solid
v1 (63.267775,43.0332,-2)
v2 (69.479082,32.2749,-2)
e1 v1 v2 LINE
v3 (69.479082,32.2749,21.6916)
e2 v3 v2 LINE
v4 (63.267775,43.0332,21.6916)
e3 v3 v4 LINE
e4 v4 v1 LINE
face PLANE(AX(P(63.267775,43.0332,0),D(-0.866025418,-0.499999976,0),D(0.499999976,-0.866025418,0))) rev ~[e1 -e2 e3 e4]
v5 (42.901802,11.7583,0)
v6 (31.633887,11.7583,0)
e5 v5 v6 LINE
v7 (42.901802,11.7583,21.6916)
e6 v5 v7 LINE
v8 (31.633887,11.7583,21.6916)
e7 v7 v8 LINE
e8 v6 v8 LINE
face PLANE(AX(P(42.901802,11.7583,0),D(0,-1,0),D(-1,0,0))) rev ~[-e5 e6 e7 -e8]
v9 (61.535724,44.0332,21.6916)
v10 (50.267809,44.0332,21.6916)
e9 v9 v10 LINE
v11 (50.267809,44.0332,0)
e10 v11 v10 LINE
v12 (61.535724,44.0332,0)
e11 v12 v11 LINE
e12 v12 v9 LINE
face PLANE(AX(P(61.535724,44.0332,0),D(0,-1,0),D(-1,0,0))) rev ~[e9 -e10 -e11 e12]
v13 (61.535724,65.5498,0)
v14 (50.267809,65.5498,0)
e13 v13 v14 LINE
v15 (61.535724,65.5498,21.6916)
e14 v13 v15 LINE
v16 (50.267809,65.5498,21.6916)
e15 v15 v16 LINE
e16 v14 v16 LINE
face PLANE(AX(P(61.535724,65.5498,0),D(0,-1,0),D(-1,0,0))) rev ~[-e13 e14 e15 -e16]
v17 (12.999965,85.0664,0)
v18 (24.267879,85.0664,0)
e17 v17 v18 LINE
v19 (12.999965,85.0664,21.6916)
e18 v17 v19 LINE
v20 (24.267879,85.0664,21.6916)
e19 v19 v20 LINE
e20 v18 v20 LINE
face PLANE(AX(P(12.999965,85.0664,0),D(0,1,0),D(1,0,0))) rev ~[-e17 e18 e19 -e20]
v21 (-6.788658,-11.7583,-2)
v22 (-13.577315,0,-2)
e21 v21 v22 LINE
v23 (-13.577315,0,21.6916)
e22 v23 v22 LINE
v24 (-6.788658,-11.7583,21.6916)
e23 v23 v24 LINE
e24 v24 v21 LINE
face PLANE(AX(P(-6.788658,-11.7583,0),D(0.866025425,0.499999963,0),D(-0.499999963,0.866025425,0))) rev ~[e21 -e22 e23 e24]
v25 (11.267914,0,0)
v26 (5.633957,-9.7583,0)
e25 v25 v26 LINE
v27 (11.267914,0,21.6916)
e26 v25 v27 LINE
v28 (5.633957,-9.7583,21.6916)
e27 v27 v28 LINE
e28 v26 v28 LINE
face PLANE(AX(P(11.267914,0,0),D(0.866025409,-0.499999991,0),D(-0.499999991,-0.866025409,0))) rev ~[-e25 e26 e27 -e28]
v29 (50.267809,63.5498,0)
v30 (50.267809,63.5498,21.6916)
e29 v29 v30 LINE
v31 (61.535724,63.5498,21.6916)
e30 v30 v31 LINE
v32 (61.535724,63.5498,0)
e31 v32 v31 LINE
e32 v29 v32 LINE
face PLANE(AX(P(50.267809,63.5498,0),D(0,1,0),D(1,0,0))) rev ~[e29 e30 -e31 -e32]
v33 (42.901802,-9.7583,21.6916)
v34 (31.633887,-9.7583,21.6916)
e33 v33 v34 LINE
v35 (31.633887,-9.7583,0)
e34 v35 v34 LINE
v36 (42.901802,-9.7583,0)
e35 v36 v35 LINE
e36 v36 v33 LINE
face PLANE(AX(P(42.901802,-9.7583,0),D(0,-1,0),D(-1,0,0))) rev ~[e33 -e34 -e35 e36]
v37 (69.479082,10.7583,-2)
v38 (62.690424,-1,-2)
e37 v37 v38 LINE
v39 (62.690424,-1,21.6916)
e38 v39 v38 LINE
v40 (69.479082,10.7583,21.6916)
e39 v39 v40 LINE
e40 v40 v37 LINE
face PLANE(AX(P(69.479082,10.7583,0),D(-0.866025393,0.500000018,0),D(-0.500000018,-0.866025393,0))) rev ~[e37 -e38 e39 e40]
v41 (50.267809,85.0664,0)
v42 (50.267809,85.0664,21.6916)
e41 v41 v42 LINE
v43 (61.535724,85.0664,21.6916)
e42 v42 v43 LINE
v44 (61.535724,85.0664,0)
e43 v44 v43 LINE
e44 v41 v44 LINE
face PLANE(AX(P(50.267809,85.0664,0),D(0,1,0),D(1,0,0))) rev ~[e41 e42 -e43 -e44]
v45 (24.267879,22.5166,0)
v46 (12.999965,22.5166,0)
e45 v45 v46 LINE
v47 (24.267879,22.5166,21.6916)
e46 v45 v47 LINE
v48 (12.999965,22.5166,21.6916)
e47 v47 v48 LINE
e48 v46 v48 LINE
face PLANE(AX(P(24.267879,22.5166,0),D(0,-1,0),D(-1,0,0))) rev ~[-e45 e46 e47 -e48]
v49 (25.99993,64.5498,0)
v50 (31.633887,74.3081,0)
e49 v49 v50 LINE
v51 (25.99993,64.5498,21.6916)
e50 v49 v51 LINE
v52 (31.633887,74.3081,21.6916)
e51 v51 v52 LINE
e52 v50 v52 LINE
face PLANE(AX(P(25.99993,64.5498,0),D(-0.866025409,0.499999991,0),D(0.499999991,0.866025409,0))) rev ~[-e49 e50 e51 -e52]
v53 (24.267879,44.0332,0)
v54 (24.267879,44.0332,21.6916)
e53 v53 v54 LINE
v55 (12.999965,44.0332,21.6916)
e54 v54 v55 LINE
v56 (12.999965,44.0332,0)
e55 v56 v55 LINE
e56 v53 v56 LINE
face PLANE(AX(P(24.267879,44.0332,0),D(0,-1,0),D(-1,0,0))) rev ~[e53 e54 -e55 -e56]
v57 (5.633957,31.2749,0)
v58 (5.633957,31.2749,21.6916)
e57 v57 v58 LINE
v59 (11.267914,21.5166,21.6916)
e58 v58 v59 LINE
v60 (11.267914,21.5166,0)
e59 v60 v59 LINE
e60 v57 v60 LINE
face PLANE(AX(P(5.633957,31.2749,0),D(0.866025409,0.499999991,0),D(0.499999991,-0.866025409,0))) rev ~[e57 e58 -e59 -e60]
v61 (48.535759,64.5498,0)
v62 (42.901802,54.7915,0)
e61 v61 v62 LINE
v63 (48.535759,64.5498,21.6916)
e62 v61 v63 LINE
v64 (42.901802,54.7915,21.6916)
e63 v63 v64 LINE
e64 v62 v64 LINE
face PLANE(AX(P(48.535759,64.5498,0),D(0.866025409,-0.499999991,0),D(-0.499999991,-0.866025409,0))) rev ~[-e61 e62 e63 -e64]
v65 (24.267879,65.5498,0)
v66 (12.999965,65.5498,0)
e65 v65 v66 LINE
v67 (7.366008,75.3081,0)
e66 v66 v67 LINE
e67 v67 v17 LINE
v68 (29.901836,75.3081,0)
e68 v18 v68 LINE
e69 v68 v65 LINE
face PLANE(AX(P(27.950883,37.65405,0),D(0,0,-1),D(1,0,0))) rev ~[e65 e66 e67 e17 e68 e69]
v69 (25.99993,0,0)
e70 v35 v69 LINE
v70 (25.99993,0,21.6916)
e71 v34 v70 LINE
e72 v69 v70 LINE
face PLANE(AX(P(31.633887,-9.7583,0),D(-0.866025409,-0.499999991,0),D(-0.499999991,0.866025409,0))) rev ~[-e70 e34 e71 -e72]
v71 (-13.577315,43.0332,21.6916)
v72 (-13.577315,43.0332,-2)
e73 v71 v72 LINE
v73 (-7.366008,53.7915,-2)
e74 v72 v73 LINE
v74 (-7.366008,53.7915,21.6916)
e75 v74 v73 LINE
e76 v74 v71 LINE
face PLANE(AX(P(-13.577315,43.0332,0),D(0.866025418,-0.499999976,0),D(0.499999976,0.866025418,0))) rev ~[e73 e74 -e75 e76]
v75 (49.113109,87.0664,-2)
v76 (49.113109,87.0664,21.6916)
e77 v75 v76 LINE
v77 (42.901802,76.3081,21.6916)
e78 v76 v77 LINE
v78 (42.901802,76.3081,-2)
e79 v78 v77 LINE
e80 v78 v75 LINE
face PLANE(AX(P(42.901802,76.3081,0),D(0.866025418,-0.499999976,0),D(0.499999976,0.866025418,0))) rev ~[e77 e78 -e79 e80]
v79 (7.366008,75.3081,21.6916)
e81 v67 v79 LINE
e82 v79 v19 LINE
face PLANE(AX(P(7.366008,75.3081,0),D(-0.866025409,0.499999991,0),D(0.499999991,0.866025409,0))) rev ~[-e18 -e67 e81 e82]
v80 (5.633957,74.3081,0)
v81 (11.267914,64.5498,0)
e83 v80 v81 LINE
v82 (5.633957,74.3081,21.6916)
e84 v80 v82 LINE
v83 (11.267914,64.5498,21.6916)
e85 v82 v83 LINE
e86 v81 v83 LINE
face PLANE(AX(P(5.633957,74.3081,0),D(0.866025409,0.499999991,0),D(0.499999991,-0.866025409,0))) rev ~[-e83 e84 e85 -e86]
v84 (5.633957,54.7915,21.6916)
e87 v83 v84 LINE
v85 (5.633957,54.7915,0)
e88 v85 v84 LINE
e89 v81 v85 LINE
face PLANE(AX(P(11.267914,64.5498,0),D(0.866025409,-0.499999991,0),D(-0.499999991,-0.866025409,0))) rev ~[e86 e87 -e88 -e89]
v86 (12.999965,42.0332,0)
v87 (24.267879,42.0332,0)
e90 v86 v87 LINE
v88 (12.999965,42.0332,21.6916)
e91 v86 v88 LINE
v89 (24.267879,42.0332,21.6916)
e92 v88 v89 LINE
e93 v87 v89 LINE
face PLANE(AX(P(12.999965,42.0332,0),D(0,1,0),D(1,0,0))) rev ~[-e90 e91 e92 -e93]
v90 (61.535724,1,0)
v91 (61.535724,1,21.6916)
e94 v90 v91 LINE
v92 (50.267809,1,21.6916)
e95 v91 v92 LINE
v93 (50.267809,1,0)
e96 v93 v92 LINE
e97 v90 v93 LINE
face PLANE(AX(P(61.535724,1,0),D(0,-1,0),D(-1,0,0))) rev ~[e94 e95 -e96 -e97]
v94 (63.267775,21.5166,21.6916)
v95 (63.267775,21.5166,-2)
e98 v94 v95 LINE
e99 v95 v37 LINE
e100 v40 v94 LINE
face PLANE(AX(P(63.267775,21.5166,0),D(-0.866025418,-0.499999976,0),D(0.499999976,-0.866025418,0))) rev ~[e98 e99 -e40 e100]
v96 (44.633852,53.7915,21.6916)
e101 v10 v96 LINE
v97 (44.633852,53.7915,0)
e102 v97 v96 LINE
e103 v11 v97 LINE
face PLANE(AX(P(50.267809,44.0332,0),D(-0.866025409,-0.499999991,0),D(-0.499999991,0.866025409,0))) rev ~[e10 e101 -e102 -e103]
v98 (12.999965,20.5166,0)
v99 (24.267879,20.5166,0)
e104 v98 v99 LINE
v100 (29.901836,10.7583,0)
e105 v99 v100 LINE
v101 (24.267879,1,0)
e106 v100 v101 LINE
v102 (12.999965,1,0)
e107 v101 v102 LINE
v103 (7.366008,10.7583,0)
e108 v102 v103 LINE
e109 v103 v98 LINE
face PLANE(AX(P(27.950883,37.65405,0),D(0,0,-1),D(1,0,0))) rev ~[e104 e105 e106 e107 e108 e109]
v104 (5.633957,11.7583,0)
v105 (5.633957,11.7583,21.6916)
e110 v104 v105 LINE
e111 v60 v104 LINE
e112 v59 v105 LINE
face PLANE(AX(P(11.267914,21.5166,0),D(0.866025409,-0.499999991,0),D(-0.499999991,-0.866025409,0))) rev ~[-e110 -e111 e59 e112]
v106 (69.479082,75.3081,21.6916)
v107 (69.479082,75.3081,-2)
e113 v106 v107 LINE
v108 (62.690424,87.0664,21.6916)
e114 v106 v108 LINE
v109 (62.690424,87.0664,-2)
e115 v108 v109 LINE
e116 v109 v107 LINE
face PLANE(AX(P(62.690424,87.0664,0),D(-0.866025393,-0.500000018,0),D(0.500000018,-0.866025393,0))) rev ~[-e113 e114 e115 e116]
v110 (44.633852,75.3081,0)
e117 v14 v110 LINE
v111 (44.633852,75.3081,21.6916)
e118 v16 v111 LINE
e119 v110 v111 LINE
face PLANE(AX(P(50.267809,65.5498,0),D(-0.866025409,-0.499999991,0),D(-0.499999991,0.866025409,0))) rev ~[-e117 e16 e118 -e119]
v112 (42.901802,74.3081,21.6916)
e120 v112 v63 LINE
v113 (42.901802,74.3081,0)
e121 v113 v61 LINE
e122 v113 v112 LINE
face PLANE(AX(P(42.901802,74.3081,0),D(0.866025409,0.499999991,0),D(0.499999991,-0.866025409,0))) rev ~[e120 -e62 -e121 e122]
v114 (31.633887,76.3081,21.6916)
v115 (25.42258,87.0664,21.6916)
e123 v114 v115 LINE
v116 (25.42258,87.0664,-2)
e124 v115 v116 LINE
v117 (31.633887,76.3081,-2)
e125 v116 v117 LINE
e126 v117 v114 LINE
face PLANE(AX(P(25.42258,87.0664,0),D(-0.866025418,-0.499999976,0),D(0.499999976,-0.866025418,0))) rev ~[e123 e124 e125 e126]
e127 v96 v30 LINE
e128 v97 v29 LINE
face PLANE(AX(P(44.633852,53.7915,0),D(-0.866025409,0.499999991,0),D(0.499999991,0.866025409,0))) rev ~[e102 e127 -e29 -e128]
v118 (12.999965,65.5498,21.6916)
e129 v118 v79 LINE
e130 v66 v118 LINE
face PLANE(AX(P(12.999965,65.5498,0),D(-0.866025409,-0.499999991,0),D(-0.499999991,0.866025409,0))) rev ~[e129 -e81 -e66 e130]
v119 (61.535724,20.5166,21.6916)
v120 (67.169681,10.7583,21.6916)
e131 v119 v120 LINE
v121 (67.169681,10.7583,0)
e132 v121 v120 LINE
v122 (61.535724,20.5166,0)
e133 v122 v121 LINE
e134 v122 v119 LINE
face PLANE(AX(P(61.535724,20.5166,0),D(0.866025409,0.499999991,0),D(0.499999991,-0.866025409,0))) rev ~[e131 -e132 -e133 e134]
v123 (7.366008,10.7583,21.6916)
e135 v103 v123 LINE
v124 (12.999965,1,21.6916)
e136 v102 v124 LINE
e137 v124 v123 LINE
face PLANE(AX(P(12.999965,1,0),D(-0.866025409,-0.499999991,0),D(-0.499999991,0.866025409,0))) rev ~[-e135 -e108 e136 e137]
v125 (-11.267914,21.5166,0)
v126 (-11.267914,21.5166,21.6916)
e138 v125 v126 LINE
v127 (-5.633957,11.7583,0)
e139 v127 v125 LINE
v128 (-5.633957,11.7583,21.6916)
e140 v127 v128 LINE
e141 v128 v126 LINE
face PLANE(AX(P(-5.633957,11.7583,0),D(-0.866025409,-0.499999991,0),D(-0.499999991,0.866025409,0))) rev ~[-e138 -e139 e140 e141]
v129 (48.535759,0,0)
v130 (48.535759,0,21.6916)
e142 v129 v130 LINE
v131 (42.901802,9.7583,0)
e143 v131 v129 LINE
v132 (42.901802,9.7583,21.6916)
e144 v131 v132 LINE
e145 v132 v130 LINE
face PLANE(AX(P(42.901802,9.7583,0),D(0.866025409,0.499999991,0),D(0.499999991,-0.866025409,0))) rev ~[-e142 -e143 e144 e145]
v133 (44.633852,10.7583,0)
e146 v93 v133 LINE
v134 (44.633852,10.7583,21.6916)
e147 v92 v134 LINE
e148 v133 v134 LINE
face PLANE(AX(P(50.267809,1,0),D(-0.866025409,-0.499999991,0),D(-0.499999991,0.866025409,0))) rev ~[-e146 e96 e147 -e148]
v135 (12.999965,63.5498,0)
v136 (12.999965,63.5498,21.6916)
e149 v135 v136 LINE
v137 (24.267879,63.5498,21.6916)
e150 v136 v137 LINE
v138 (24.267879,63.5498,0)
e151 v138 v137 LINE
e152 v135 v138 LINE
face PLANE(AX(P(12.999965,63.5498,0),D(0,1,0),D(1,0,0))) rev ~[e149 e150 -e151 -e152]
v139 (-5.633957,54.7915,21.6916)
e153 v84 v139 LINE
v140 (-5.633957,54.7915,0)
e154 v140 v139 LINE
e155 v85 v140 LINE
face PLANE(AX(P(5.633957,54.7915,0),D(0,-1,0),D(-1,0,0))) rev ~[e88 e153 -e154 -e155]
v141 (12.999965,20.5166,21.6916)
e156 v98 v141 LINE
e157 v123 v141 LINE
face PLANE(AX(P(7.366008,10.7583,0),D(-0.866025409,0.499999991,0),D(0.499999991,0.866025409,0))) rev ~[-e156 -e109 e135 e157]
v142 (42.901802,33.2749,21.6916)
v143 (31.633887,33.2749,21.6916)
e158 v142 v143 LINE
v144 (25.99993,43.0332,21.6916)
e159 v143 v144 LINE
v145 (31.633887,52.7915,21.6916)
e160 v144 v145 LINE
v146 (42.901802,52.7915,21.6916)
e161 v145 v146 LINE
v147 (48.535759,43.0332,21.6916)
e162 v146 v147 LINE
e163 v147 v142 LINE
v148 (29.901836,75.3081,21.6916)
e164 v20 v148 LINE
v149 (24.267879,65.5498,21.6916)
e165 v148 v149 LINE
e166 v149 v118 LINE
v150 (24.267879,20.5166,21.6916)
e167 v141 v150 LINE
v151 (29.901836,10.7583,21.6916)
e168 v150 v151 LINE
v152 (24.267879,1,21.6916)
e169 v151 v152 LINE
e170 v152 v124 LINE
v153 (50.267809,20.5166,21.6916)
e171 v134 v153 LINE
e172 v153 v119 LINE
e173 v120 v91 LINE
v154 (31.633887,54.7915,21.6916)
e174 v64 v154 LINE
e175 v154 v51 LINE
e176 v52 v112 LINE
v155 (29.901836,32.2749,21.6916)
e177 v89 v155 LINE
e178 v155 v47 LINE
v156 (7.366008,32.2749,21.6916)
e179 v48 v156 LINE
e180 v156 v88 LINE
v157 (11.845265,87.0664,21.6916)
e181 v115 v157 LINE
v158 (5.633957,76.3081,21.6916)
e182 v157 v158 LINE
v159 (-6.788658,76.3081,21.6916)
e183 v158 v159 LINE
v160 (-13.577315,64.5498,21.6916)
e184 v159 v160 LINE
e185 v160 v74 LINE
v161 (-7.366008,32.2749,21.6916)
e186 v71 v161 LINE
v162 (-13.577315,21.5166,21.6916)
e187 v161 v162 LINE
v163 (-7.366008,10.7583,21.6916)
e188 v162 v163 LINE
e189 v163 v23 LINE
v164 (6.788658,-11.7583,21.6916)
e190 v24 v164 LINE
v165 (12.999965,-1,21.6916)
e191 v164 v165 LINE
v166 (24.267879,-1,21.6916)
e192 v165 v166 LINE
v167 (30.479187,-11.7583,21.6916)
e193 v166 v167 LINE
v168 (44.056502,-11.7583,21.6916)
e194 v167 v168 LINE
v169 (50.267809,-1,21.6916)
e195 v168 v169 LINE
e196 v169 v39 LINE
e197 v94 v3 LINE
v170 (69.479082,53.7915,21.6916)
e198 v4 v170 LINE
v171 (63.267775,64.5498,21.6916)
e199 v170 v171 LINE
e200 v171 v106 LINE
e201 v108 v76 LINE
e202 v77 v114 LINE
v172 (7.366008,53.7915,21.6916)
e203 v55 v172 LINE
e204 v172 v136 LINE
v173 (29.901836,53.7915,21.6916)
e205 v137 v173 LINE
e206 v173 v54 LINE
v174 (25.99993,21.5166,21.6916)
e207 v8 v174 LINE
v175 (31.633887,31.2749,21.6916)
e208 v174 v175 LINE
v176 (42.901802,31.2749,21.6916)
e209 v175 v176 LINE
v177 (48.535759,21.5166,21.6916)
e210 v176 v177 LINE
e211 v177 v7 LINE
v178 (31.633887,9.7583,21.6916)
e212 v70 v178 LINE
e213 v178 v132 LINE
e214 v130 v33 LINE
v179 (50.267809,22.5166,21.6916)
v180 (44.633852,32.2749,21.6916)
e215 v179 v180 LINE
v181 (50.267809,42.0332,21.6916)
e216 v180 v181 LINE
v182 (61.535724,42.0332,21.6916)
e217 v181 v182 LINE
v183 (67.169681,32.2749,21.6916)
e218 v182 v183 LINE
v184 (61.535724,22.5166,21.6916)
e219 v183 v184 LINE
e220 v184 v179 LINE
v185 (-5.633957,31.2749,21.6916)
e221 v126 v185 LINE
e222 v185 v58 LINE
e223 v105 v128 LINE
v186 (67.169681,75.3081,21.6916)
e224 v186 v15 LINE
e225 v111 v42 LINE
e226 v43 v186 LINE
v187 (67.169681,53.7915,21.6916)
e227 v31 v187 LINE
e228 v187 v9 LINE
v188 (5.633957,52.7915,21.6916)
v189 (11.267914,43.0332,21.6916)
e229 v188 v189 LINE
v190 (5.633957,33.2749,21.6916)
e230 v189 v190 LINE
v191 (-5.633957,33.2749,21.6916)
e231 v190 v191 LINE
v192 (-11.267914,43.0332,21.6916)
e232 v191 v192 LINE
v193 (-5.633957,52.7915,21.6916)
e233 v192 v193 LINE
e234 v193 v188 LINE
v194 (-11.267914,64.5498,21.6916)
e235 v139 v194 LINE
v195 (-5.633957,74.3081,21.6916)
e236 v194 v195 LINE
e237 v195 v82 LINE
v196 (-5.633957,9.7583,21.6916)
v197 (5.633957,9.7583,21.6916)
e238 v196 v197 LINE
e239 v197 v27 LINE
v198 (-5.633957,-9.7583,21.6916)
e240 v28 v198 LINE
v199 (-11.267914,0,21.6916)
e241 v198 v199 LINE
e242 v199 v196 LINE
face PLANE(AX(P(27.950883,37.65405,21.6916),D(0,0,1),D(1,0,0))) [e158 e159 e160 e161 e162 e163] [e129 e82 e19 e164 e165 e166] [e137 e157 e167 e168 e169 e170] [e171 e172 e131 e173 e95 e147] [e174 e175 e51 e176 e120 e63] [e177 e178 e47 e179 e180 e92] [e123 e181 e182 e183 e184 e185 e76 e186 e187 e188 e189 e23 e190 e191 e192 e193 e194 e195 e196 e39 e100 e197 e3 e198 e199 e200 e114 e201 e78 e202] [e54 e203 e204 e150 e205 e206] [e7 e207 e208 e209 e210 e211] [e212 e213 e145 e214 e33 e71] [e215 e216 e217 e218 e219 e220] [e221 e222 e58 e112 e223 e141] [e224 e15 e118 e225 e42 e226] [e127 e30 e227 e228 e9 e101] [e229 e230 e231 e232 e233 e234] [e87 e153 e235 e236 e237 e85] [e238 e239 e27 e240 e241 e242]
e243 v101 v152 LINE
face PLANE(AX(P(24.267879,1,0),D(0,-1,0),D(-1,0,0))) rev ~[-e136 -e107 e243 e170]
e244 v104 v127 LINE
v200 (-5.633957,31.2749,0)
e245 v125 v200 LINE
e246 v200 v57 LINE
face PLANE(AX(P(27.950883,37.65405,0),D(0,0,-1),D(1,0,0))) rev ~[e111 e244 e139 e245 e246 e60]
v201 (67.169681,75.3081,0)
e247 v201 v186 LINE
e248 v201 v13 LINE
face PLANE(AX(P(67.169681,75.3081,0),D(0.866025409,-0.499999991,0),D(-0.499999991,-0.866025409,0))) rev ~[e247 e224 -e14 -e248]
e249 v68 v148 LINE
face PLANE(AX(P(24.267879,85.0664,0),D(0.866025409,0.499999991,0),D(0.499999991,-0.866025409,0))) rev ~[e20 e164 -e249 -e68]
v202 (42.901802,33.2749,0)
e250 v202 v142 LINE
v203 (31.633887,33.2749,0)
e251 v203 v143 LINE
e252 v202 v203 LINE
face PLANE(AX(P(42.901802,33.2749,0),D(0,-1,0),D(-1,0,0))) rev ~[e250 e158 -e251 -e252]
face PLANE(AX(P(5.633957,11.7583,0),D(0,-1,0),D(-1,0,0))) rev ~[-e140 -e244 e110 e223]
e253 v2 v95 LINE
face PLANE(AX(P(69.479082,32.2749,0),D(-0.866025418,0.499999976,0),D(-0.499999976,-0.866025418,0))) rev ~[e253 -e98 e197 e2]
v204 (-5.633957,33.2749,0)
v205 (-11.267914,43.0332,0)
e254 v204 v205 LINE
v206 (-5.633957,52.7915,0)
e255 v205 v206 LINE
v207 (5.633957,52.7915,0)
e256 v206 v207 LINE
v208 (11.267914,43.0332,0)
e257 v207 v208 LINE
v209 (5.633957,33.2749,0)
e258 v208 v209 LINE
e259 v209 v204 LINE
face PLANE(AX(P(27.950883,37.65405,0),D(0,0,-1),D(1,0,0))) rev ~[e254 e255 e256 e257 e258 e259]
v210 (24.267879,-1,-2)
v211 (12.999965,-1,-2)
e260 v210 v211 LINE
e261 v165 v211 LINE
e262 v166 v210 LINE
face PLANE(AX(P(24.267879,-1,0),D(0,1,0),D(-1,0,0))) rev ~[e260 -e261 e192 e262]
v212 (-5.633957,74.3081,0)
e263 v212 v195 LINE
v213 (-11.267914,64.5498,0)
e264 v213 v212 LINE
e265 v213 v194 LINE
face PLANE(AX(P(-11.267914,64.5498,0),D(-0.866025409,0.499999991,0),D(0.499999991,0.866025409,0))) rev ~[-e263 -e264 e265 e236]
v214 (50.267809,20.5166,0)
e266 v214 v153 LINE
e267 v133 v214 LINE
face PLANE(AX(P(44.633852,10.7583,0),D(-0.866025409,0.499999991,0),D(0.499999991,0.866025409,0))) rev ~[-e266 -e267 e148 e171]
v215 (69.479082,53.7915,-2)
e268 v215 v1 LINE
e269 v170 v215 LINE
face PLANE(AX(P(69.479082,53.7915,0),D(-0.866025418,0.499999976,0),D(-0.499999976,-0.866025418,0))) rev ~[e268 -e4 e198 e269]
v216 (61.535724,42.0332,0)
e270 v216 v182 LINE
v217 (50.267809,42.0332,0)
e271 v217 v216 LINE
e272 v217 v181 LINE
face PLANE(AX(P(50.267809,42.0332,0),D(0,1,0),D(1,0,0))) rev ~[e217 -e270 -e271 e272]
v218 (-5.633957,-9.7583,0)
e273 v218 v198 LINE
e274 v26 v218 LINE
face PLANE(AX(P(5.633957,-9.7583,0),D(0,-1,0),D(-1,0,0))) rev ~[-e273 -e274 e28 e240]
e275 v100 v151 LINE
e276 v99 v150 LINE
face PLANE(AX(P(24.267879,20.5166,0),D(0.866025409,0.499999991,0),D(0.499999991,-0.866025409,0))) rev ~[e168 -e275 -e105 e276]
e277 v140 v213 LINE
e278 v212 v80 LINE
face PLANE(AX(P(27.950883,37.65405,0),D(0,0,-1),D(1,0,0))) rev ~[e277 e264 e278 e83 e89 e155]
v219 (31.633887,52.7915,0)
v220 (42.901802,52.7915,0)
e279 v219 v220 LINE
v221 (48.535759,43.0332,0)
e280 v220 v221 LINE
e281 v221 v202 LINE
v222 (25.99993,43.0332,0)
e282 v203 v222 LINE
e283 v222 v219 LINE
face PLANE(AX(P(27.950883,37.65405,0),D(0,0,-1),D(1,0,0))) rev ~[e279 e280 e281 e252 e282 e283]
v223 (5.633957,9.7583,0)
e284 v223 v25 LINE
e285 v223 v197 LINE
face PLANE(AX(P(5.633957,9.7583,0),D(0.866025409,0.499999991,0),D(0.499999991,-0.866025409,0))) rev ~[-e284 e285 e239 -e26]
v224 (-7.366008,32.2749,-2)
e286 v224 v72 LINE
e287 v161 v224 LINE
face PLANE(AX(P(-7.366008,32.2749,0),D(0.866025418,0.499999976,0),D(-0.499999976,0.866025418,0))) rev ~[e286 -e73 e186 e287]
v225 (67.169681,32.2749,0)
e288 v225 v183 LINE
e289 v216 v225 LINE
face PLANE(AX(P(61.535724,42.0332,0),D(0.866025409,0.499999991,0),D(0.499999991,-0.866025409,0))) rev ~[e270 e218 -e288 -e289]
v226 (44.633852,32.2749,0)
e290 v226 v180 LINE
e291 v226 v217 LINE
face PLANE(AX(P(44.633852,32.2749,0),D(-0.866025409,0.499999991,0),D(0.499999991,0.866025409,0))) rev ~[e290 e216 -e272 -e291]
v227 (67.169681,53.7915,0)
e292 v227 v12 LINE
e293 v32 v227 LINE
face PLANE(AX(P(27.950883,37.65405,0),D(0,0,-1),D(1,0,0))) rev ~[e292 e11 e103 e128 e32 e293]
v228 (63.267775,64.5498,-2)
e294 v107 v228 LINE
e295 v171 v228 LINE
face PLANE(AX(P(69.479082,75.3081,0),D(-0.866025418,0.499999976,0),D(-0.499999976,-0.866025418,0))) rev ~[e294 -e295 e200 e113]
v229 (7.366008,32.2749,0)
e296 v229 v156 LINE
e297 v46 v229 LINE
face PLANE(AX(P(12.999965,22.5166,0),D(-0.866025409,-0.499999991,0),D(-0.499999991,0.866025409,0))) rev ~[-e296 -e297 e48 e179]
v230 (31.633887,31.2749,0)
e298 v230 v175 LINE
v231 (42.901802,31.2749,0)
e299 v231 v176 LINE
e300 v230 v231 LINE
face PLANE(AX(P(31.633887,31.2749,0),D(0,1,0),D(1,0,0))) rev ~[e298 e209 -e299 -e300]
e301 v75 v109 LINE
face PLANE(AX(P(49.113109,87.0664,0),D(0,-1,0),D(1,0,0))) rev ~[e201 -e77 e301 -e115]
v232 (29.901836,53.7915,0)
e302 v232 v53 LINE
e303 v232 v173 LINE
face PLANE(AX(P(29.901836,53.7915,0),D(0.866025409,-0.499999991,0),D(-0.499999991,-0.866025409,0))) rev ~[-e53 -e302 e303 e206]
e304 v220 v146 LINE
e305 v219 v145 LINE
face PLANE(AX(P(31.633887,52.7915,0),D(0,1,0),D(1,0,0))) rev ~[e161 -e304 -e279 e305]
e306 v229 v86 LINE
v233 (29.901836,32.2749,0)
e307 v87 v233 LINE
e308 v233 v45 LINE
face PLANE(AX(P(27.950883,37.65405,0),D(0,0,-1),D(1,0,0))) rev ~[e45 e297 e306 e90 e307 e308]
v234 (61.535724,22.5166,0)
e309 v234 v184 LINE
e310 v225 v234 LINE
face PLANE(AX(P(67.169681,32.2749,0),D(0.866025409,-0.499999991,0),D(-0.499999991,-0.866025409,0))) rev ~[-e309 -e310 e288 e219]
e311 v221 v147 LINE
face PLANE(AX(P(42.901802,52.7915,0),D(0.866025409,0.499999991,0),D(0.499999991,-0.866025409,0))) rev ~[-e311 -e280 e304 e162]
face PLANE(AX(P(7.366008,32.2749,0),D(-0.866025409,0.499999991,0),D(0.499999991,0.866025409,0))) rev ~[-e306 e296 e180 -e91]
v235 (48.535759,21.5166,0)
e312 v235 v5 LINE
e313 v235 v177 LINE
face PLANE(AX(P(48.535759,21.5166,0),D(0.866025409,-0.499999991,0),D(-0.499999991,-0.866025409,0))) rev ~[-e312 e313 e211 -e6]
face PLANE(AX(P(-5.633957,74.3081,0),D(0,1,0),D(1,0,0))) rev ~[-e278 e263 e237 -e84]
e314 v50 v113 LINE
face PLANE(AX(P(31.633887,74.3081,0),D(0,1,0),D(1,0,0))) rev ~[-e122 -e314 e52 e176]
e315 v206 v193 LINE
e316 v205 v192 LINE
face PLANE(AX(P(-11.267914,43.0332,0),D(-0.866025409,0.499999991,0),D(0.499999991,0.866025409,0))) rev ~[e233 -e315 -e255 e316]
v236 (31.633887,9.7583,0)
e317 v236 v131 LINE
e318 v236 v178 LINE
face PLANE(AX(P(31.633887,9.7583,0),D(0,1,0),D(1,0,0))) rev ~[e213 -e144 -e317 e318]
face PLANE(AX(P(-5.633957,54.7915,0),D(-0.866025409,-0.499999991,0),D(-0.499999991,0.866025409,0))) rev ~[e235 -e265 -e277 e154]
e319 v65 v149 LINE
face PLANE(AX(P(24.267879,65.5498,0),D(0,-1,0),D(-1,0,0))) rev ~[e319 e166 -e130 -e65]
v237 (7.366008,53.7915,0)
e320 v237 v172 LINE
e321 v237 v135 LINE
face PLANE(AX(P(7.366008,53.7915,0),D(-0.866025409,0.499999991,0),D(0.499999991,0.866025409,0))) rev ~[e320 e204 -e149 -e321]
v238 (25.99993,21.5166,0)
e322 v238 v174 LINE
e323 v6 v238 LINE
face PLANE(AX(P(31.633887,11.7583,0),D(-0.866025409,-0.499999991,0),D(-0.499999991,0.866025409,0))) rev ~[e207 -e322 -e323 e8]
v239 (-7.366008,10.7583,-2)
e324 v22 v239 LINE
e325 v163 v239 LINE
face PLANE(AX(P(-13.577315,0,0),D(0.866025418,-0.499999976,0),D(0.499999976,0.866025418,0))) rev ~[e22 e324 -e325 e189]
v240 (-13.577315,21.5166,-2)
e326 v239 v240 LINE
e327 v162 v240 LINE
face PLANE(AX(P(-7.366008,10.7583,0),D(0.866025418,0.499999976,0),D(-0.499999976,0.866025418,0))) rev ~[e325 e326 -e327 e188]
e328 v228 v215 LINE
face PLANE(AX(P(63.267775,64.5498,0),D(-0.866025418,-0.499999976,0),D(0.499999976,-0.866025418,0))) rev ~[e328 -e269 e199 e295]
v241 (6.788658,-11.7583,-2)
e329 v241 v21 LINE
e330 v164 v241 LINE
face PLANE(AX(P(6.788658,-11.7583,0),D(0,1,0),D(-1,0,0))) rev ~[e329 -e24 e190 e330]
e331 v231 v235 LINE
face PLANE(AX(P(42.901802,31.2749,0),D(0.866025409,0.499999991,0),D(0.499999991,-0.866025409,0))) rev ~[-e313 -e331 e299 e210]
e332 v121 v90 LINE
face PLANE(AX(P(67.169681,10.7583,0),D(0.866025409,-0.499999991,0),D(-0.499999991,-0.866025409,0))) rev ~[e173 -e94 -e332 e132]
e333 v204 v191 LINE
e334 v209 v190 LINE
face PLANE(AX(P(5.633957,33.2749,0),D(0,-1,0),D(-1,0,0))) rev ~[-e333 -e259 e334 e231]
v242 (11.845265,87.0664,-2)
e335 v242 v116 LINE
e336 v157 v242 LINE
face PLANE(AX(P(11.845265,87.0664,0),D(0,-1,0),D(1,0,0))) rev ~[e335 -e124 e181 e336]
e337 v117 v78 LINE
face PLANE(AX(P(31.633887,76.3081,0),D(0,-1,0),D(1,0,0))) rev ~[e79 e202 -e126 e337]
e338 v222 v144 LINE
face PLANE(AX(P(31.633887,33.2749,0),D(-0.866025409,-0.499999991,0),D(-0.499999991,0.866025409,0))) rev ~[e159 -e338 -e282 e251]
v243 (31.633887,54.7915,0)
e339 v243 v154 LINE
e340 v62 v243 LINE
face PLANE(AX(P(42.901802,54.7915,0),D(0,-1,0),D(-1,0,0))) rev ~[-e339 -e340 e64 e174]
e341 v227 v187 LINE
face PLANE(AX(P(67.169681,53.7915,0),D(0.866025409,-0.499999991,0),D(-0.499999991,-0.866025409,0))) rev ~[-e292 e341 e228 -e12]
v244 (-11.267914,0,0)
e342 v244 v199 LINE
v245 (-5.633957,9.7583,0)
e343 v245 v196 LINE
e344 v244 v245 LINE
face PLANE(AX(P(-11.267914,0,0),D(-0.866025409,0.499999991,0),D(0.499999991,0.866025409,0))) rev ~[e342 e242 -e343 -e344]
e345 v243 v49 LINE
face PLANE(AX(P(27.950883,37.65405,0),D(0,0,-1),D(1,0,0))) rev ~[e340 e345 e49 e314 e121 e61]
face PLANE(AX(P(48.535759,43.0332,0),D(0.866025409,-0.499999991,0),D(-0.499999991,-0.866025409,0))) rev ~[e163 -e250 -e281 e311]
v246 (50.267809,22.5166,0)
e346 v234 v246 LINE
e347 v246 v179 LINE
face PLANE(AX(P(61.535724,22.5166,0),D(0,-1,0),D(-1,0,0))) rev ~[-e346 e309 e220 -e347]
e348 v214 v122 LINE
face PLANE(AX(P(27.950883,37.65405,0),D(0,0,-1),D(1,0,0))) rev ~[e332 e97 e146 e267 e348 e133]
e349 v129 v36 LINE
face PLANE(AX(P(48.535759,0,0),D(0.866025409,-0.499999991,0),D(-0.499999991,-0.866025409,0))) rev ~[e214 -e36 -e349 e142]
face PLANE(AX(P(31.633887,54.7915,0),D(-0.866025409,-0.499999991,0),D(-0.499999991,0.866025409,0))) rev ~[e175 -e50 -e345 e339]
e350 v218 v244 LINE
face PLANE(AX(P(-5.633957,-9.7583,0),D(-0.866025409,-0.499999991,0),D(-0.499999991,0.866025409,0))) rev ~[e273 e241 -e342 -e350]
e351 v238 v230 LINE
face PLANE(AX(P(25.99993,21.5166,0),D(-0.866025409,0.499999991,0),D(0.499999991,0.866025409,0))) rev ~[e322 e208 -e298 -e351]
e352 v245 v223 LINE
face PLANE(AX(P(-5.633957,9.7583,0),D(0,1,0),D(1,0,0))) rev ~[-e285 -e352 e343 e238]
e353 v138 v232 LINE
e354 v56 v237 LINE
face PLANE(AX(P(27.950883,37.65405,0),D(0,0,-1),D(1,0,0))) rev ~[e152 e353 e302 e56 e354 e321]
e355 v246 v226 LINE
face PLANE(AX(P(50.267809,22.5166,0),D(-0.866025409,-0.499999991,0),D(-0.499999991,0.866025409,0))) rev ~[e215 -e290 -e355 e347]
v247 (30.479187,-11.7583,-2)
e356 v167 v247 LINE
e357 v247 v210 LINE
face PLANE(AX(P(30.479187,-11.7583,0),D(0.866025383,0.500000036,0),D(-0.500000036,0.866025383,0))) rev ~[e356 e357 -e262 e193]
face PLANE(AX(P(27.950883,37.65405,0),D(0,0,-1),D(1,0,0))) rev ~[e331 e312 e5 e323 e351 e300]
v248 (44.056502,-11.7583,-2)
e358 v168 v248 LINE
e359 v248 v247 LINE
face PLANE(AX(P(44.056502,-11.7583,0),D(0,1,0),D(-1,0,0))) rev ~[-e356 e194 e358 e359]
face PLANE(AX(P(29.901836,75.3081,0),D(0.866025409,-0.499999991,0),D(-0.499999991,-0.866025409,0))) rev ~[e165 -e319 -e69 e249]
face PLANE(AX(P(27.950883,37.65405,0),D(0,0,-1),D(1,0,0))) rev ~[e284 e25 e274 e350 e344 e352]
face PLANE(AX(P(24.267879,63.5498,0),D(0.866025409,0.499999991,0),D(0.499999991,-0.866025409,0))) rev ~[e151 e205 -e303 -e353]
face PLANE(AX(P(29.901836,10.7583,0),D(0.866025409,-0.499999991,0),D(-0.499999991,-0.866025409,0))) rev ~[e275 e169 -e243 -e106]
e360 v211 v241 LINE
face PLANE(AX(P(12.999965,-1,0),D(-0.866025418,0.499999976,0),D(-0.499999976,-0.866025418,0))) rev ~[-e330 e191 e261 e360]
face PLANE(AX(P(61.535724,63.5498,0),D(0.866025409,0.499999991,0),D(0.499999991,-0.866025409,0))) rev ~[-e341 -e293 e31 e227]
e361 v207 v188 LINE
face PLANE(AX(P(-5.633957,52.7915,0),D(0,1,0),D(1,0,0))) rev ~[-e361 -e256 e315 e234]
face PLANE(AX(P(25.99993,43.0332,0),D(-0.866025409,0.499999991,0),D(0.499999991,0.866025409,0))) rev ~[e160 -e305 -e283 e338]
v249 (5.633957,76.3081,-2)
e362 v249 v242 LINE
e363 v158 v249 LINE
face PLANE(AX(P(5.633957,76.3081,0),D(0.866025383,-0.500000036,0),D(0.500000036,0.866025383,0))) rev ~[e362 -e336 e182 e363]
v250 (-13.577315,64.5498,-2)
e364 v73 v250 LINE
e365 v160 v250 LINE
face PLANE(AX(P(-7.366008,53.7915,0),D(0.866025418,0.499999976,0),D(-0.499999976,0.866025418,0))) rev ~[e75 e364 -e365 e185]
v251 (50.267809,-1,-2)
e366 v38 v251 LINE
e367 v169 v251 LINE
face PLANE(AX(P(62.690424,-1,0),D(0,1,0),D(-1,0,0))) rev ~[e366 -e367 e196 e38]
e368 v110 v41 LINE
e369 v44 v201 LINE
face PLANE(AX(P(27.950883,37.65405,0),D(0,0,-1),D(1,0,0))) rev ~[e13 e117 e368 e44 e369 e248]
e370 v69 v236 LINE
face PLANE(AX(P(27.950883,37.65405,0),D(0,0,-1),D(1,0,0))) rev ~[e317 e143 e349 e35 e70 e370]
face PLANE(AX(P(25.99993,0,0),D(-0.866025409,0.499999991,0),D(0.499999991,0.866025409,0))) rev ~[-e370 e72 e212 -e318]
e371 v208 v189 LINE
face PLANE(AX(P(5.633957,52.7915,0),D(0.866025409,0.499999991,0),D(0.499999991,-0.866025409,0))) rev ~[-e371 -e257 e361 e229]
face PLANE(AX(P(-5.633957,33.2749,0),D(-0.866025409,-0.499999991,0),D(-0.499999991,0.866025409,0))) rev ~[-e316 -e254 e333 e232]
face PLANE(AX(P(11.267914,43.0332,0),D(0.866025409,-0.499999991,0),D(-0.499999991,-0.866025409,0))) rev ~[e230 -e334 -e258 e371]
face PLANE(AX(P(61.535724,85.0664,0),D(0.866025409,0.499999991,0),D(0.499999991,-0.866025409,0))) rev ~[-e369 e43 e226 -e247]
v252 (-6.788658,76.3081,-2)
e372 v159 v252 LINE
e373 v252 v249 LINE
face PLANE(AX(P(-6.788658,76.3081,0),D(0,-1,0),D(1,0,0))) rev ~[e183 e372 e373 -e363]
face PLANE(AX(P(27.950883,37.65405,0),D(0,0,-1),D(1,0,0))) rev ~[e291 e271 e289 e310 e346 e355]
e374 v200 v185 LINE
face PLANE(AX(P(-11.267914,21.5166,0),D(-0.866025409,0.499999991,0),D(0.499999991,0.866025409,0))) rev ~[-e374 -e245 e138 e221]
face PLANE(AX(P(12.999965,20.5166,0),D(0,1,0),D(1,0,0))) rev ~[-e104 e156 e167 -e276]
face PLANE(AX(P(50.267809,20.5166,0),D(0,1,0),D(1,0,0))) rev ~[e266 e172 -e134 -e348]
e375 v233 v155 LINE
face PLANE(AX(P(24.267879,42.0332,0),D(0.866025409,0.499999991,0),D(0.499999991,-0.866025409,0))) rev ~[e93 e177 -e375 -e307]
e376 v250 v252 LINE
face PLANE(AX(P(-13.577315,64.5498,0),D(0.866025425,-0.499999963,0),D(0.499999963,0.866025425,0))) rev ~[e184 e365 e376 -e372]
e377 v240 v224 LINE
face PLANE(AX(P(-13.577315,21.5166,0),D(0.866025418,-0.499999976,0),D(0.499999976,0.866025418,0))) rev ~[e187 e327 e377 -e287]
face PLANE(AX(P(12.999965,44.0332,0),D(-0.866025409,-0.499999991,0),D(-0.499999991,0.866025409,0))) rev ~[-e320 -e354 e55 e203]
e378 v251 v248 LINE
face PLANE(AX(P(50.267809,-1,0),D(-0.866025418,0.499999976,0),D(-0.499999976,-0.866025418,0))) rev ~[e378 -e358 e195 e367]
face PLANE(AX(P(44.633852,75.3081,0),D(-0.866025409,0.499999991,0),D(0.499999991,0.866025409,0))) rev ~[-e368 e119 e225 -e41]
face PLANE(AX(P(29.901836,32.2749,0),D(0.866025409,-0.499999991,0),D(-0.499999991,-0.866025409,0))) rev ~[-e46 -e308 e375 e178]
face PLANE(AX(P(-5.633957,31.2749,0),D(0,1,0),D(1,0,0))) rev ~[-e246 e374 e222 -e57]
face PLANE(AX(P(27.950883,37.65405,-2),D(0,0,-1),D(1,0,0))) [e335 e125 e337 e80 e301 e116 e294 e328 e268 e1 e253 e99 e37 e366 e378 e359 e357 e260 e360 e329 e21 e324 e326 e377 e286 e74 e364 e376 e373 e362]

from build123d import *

# Parameters (mm, degrees)
F1_DEPTH = 21.6916
F3_DEPTH = 2


with BuildPart() as f1:
    # F0 (on Top) → F1 (new body)
    with BuildSketch(Plane.XY):
        Polygon((31.633887, 76.3081), (25.42258, 87.0664), (11.845265, 87.0664), (5.633957, 76.3081), (-6.788658, 76.3081), (-13.577315, 64.5498), (-7.366008, 53.7915), (-13.577315, 43.0332), (-7.366008, 32.2749), (-13.577315, 21.5166), (-7.366008, 10.7583), (-13.577315, 0), (-6.788658, -11.7583), (6.788658, -11.7583), (12.999965, -1), (24.267879, -1), (30.479187, -11.7583), (44.056502, -11.7583), (50.267809, -1), (62.690424, -1), (69.479082, 10.7583), (63.267775, 21.5166), (69.479082, 32.2749), (63.267775, 43.0332), (69.479082, 53.7915), (63.267775, 64.5498), (69.479082, 75.3081), (62.690424, 87.0664), (49.113109, 87.0664), (42.901802, 76.3081), align=None)
        Polygon((-5.633957, 9.7583), (5.633957, 9.7583), (11.267914, 0), (5.633957, -9.7583), (-5.633957, -9.7583), (-11.267914, 0), align=None, mode=Mode.SUBTRACT)
        Polygon((12.999965, 20.5166), (24.267879, 20.5166), (29.901836, 10.7583), (24.267879, 1), (12.999965, 1), (7.366008, 10.7583), align=None, mode=Mode.SUBTRACT)
        Polygon((11.267914, 21.5166), (5.633957, 11.7583), (-5.633957, 11.7583), (-11.267914, 21.5166), (-5.633957, 31.2749), (5.633957, 31.2749), align=None, mode=Mode.SUBTRACT)
        Polygon((24.267879, 22.5166), (12.999965, 22.5166), (7.366008, 32.2749), (12.999965, 42.0332), (24.267879, 42.0332), (29.901836, 32.2749), align=None, mode=Mode.SUBTRACT)
        Polygon((48.535759, 0), (42.901802, -9.7583), (31.633887, -9.7583), (25.99993, 0), (31.633887, 9.7583), (42.901802, 9.7583), align=None, mode=Mode.SUBTRACT)
        Polygon((61.535724, 1), (50.267809, 1), (44.633852, 10.7583), (50.267809, 20.5166), (61.535724, 20.5166), (67.169681, 10.7583), align=None, mode=Mode.SUBTRACT)
        Polygon((25.99993, 21.5166), (31.633887, 31.2749), (42.901802, 31.2749), (48.535759, 21.5166), (42.901802, 11.7583), (31.633887, 11.7583), align=None, mode=Mode.SUBTRACT)
        Polygon((67.169681, 32.2749), (61.535724, 22.5166), (50.267809, 22.5166), (44.633852, 32.2749), (50.267809, 42.0332), (61.535724, 42.0332), align=None, mode=Mode.SUBTRACT)
        Polygon((11.267914, 43.0332), (5.633957, 33.2749), (-5.633957, 33.2749), (-11.267914, 43.0332), (-5.633957, 52.7915), (5.633957, 52.7915), align=None, mode=Mode.SUBTRACT)
        Polygon((24.267879, 44.0332), (12.999965, 44.0332), (7.366008, 53.7915), (12.999965, 63.5498), (24.267879, 63.5498), (29.901836, 53.7915), align=None, mode=Mode.SUBTRACT)
        Polygon((11.267914, 64.5498), (5.633957, 54.7915), (-5.633957, 54.7915), (-11.267914, 64.5498), (-5.633957, 74.3081), (5.633957, 74.3081), align=None, mode=Mode.SUBTRACT)
        Polygon((24.267879, 65.5498), (12.999965, 65.5498), (7.366008, 75.3081), (12.999965, 85.0664), (24.267879, 85.0664), (29.901836, 75.3081), align=None, mode=Mode.SUBTRACT)
        Polygon((25.99993, 43.0332), (31.633887, 52.7915), (42.901802, 52.7915), (48.535759, 43.0332), (42.901802, 33.2749), (31.633887, 33.2749), align=None, mode=Mode.SUBTRACT)
        Polygon((50.267809, 63.5498), (61.535724, 63.5498), (67.169681, 53.7915), (61.535724, 44.0332), (50.267809, 44.0332), (44.633852, 53.7915), align=None, mode=Mode.SUBTRACT)
        Polygon((31.633887, 54.7915), (25.99993, 64.5498), (31.633887, 74.3081), (42.901802, 74.3081), (48.535759, 64.5498), (42.901802, 54.7915), align=None, mode=Mode.SUBTRACT)
        Polygon((44.633852, 75.3081), (50.267809, 85.0664), (61.535724, 85.0664), (67.169681, 75.3081), (61.535724, 65.5498), (50.267809, 65.5498), align=None, mode=Mode.SUBTRACT)
    extrude(amount=F1_DEPTH)

    # F2 (on face) → F3 (join)
    with BuildSketch(Plane(origin=(0, 0, 0), x_dir=(1, 0, 0), z_dir=(0, 0, -1))):
        Polygon((49.113109, -87.0664), (62.690424, -87.0664), (69.479082, -75.3081), (63.267775, -64.5498), (69.479082, -53.7915), (63.267775, -43.0332), (69.479082, -32.2749), (63.267775, -21.5166), (69.479082, -10.7583), (62.690424, 1), (50.267809, 1), (44.056502, 11.7583), (30.479187, 11.7583), (24.267879, 1), (12.999965, 1), (6.788658, 11.7583), (-6.788658, 11.7583), (-13.577315, 0), (-7.366008, -10.7583), (-13.577315, -21.5166), (-7.366008, -32.2749), (-13.577315, -43.0332), (-7.366008, -53.7915), (-13.577315, -64.5498), (-6.788658, -76.3081), (5.633957, -76.3081), (11.845265, -87.0664), (25.42258, -87.0664), (31.633887, -76.3081), (42.901802, -76.3081), align=None)
    extrude(amount=F3_DEPTH)


solid = f1.part
